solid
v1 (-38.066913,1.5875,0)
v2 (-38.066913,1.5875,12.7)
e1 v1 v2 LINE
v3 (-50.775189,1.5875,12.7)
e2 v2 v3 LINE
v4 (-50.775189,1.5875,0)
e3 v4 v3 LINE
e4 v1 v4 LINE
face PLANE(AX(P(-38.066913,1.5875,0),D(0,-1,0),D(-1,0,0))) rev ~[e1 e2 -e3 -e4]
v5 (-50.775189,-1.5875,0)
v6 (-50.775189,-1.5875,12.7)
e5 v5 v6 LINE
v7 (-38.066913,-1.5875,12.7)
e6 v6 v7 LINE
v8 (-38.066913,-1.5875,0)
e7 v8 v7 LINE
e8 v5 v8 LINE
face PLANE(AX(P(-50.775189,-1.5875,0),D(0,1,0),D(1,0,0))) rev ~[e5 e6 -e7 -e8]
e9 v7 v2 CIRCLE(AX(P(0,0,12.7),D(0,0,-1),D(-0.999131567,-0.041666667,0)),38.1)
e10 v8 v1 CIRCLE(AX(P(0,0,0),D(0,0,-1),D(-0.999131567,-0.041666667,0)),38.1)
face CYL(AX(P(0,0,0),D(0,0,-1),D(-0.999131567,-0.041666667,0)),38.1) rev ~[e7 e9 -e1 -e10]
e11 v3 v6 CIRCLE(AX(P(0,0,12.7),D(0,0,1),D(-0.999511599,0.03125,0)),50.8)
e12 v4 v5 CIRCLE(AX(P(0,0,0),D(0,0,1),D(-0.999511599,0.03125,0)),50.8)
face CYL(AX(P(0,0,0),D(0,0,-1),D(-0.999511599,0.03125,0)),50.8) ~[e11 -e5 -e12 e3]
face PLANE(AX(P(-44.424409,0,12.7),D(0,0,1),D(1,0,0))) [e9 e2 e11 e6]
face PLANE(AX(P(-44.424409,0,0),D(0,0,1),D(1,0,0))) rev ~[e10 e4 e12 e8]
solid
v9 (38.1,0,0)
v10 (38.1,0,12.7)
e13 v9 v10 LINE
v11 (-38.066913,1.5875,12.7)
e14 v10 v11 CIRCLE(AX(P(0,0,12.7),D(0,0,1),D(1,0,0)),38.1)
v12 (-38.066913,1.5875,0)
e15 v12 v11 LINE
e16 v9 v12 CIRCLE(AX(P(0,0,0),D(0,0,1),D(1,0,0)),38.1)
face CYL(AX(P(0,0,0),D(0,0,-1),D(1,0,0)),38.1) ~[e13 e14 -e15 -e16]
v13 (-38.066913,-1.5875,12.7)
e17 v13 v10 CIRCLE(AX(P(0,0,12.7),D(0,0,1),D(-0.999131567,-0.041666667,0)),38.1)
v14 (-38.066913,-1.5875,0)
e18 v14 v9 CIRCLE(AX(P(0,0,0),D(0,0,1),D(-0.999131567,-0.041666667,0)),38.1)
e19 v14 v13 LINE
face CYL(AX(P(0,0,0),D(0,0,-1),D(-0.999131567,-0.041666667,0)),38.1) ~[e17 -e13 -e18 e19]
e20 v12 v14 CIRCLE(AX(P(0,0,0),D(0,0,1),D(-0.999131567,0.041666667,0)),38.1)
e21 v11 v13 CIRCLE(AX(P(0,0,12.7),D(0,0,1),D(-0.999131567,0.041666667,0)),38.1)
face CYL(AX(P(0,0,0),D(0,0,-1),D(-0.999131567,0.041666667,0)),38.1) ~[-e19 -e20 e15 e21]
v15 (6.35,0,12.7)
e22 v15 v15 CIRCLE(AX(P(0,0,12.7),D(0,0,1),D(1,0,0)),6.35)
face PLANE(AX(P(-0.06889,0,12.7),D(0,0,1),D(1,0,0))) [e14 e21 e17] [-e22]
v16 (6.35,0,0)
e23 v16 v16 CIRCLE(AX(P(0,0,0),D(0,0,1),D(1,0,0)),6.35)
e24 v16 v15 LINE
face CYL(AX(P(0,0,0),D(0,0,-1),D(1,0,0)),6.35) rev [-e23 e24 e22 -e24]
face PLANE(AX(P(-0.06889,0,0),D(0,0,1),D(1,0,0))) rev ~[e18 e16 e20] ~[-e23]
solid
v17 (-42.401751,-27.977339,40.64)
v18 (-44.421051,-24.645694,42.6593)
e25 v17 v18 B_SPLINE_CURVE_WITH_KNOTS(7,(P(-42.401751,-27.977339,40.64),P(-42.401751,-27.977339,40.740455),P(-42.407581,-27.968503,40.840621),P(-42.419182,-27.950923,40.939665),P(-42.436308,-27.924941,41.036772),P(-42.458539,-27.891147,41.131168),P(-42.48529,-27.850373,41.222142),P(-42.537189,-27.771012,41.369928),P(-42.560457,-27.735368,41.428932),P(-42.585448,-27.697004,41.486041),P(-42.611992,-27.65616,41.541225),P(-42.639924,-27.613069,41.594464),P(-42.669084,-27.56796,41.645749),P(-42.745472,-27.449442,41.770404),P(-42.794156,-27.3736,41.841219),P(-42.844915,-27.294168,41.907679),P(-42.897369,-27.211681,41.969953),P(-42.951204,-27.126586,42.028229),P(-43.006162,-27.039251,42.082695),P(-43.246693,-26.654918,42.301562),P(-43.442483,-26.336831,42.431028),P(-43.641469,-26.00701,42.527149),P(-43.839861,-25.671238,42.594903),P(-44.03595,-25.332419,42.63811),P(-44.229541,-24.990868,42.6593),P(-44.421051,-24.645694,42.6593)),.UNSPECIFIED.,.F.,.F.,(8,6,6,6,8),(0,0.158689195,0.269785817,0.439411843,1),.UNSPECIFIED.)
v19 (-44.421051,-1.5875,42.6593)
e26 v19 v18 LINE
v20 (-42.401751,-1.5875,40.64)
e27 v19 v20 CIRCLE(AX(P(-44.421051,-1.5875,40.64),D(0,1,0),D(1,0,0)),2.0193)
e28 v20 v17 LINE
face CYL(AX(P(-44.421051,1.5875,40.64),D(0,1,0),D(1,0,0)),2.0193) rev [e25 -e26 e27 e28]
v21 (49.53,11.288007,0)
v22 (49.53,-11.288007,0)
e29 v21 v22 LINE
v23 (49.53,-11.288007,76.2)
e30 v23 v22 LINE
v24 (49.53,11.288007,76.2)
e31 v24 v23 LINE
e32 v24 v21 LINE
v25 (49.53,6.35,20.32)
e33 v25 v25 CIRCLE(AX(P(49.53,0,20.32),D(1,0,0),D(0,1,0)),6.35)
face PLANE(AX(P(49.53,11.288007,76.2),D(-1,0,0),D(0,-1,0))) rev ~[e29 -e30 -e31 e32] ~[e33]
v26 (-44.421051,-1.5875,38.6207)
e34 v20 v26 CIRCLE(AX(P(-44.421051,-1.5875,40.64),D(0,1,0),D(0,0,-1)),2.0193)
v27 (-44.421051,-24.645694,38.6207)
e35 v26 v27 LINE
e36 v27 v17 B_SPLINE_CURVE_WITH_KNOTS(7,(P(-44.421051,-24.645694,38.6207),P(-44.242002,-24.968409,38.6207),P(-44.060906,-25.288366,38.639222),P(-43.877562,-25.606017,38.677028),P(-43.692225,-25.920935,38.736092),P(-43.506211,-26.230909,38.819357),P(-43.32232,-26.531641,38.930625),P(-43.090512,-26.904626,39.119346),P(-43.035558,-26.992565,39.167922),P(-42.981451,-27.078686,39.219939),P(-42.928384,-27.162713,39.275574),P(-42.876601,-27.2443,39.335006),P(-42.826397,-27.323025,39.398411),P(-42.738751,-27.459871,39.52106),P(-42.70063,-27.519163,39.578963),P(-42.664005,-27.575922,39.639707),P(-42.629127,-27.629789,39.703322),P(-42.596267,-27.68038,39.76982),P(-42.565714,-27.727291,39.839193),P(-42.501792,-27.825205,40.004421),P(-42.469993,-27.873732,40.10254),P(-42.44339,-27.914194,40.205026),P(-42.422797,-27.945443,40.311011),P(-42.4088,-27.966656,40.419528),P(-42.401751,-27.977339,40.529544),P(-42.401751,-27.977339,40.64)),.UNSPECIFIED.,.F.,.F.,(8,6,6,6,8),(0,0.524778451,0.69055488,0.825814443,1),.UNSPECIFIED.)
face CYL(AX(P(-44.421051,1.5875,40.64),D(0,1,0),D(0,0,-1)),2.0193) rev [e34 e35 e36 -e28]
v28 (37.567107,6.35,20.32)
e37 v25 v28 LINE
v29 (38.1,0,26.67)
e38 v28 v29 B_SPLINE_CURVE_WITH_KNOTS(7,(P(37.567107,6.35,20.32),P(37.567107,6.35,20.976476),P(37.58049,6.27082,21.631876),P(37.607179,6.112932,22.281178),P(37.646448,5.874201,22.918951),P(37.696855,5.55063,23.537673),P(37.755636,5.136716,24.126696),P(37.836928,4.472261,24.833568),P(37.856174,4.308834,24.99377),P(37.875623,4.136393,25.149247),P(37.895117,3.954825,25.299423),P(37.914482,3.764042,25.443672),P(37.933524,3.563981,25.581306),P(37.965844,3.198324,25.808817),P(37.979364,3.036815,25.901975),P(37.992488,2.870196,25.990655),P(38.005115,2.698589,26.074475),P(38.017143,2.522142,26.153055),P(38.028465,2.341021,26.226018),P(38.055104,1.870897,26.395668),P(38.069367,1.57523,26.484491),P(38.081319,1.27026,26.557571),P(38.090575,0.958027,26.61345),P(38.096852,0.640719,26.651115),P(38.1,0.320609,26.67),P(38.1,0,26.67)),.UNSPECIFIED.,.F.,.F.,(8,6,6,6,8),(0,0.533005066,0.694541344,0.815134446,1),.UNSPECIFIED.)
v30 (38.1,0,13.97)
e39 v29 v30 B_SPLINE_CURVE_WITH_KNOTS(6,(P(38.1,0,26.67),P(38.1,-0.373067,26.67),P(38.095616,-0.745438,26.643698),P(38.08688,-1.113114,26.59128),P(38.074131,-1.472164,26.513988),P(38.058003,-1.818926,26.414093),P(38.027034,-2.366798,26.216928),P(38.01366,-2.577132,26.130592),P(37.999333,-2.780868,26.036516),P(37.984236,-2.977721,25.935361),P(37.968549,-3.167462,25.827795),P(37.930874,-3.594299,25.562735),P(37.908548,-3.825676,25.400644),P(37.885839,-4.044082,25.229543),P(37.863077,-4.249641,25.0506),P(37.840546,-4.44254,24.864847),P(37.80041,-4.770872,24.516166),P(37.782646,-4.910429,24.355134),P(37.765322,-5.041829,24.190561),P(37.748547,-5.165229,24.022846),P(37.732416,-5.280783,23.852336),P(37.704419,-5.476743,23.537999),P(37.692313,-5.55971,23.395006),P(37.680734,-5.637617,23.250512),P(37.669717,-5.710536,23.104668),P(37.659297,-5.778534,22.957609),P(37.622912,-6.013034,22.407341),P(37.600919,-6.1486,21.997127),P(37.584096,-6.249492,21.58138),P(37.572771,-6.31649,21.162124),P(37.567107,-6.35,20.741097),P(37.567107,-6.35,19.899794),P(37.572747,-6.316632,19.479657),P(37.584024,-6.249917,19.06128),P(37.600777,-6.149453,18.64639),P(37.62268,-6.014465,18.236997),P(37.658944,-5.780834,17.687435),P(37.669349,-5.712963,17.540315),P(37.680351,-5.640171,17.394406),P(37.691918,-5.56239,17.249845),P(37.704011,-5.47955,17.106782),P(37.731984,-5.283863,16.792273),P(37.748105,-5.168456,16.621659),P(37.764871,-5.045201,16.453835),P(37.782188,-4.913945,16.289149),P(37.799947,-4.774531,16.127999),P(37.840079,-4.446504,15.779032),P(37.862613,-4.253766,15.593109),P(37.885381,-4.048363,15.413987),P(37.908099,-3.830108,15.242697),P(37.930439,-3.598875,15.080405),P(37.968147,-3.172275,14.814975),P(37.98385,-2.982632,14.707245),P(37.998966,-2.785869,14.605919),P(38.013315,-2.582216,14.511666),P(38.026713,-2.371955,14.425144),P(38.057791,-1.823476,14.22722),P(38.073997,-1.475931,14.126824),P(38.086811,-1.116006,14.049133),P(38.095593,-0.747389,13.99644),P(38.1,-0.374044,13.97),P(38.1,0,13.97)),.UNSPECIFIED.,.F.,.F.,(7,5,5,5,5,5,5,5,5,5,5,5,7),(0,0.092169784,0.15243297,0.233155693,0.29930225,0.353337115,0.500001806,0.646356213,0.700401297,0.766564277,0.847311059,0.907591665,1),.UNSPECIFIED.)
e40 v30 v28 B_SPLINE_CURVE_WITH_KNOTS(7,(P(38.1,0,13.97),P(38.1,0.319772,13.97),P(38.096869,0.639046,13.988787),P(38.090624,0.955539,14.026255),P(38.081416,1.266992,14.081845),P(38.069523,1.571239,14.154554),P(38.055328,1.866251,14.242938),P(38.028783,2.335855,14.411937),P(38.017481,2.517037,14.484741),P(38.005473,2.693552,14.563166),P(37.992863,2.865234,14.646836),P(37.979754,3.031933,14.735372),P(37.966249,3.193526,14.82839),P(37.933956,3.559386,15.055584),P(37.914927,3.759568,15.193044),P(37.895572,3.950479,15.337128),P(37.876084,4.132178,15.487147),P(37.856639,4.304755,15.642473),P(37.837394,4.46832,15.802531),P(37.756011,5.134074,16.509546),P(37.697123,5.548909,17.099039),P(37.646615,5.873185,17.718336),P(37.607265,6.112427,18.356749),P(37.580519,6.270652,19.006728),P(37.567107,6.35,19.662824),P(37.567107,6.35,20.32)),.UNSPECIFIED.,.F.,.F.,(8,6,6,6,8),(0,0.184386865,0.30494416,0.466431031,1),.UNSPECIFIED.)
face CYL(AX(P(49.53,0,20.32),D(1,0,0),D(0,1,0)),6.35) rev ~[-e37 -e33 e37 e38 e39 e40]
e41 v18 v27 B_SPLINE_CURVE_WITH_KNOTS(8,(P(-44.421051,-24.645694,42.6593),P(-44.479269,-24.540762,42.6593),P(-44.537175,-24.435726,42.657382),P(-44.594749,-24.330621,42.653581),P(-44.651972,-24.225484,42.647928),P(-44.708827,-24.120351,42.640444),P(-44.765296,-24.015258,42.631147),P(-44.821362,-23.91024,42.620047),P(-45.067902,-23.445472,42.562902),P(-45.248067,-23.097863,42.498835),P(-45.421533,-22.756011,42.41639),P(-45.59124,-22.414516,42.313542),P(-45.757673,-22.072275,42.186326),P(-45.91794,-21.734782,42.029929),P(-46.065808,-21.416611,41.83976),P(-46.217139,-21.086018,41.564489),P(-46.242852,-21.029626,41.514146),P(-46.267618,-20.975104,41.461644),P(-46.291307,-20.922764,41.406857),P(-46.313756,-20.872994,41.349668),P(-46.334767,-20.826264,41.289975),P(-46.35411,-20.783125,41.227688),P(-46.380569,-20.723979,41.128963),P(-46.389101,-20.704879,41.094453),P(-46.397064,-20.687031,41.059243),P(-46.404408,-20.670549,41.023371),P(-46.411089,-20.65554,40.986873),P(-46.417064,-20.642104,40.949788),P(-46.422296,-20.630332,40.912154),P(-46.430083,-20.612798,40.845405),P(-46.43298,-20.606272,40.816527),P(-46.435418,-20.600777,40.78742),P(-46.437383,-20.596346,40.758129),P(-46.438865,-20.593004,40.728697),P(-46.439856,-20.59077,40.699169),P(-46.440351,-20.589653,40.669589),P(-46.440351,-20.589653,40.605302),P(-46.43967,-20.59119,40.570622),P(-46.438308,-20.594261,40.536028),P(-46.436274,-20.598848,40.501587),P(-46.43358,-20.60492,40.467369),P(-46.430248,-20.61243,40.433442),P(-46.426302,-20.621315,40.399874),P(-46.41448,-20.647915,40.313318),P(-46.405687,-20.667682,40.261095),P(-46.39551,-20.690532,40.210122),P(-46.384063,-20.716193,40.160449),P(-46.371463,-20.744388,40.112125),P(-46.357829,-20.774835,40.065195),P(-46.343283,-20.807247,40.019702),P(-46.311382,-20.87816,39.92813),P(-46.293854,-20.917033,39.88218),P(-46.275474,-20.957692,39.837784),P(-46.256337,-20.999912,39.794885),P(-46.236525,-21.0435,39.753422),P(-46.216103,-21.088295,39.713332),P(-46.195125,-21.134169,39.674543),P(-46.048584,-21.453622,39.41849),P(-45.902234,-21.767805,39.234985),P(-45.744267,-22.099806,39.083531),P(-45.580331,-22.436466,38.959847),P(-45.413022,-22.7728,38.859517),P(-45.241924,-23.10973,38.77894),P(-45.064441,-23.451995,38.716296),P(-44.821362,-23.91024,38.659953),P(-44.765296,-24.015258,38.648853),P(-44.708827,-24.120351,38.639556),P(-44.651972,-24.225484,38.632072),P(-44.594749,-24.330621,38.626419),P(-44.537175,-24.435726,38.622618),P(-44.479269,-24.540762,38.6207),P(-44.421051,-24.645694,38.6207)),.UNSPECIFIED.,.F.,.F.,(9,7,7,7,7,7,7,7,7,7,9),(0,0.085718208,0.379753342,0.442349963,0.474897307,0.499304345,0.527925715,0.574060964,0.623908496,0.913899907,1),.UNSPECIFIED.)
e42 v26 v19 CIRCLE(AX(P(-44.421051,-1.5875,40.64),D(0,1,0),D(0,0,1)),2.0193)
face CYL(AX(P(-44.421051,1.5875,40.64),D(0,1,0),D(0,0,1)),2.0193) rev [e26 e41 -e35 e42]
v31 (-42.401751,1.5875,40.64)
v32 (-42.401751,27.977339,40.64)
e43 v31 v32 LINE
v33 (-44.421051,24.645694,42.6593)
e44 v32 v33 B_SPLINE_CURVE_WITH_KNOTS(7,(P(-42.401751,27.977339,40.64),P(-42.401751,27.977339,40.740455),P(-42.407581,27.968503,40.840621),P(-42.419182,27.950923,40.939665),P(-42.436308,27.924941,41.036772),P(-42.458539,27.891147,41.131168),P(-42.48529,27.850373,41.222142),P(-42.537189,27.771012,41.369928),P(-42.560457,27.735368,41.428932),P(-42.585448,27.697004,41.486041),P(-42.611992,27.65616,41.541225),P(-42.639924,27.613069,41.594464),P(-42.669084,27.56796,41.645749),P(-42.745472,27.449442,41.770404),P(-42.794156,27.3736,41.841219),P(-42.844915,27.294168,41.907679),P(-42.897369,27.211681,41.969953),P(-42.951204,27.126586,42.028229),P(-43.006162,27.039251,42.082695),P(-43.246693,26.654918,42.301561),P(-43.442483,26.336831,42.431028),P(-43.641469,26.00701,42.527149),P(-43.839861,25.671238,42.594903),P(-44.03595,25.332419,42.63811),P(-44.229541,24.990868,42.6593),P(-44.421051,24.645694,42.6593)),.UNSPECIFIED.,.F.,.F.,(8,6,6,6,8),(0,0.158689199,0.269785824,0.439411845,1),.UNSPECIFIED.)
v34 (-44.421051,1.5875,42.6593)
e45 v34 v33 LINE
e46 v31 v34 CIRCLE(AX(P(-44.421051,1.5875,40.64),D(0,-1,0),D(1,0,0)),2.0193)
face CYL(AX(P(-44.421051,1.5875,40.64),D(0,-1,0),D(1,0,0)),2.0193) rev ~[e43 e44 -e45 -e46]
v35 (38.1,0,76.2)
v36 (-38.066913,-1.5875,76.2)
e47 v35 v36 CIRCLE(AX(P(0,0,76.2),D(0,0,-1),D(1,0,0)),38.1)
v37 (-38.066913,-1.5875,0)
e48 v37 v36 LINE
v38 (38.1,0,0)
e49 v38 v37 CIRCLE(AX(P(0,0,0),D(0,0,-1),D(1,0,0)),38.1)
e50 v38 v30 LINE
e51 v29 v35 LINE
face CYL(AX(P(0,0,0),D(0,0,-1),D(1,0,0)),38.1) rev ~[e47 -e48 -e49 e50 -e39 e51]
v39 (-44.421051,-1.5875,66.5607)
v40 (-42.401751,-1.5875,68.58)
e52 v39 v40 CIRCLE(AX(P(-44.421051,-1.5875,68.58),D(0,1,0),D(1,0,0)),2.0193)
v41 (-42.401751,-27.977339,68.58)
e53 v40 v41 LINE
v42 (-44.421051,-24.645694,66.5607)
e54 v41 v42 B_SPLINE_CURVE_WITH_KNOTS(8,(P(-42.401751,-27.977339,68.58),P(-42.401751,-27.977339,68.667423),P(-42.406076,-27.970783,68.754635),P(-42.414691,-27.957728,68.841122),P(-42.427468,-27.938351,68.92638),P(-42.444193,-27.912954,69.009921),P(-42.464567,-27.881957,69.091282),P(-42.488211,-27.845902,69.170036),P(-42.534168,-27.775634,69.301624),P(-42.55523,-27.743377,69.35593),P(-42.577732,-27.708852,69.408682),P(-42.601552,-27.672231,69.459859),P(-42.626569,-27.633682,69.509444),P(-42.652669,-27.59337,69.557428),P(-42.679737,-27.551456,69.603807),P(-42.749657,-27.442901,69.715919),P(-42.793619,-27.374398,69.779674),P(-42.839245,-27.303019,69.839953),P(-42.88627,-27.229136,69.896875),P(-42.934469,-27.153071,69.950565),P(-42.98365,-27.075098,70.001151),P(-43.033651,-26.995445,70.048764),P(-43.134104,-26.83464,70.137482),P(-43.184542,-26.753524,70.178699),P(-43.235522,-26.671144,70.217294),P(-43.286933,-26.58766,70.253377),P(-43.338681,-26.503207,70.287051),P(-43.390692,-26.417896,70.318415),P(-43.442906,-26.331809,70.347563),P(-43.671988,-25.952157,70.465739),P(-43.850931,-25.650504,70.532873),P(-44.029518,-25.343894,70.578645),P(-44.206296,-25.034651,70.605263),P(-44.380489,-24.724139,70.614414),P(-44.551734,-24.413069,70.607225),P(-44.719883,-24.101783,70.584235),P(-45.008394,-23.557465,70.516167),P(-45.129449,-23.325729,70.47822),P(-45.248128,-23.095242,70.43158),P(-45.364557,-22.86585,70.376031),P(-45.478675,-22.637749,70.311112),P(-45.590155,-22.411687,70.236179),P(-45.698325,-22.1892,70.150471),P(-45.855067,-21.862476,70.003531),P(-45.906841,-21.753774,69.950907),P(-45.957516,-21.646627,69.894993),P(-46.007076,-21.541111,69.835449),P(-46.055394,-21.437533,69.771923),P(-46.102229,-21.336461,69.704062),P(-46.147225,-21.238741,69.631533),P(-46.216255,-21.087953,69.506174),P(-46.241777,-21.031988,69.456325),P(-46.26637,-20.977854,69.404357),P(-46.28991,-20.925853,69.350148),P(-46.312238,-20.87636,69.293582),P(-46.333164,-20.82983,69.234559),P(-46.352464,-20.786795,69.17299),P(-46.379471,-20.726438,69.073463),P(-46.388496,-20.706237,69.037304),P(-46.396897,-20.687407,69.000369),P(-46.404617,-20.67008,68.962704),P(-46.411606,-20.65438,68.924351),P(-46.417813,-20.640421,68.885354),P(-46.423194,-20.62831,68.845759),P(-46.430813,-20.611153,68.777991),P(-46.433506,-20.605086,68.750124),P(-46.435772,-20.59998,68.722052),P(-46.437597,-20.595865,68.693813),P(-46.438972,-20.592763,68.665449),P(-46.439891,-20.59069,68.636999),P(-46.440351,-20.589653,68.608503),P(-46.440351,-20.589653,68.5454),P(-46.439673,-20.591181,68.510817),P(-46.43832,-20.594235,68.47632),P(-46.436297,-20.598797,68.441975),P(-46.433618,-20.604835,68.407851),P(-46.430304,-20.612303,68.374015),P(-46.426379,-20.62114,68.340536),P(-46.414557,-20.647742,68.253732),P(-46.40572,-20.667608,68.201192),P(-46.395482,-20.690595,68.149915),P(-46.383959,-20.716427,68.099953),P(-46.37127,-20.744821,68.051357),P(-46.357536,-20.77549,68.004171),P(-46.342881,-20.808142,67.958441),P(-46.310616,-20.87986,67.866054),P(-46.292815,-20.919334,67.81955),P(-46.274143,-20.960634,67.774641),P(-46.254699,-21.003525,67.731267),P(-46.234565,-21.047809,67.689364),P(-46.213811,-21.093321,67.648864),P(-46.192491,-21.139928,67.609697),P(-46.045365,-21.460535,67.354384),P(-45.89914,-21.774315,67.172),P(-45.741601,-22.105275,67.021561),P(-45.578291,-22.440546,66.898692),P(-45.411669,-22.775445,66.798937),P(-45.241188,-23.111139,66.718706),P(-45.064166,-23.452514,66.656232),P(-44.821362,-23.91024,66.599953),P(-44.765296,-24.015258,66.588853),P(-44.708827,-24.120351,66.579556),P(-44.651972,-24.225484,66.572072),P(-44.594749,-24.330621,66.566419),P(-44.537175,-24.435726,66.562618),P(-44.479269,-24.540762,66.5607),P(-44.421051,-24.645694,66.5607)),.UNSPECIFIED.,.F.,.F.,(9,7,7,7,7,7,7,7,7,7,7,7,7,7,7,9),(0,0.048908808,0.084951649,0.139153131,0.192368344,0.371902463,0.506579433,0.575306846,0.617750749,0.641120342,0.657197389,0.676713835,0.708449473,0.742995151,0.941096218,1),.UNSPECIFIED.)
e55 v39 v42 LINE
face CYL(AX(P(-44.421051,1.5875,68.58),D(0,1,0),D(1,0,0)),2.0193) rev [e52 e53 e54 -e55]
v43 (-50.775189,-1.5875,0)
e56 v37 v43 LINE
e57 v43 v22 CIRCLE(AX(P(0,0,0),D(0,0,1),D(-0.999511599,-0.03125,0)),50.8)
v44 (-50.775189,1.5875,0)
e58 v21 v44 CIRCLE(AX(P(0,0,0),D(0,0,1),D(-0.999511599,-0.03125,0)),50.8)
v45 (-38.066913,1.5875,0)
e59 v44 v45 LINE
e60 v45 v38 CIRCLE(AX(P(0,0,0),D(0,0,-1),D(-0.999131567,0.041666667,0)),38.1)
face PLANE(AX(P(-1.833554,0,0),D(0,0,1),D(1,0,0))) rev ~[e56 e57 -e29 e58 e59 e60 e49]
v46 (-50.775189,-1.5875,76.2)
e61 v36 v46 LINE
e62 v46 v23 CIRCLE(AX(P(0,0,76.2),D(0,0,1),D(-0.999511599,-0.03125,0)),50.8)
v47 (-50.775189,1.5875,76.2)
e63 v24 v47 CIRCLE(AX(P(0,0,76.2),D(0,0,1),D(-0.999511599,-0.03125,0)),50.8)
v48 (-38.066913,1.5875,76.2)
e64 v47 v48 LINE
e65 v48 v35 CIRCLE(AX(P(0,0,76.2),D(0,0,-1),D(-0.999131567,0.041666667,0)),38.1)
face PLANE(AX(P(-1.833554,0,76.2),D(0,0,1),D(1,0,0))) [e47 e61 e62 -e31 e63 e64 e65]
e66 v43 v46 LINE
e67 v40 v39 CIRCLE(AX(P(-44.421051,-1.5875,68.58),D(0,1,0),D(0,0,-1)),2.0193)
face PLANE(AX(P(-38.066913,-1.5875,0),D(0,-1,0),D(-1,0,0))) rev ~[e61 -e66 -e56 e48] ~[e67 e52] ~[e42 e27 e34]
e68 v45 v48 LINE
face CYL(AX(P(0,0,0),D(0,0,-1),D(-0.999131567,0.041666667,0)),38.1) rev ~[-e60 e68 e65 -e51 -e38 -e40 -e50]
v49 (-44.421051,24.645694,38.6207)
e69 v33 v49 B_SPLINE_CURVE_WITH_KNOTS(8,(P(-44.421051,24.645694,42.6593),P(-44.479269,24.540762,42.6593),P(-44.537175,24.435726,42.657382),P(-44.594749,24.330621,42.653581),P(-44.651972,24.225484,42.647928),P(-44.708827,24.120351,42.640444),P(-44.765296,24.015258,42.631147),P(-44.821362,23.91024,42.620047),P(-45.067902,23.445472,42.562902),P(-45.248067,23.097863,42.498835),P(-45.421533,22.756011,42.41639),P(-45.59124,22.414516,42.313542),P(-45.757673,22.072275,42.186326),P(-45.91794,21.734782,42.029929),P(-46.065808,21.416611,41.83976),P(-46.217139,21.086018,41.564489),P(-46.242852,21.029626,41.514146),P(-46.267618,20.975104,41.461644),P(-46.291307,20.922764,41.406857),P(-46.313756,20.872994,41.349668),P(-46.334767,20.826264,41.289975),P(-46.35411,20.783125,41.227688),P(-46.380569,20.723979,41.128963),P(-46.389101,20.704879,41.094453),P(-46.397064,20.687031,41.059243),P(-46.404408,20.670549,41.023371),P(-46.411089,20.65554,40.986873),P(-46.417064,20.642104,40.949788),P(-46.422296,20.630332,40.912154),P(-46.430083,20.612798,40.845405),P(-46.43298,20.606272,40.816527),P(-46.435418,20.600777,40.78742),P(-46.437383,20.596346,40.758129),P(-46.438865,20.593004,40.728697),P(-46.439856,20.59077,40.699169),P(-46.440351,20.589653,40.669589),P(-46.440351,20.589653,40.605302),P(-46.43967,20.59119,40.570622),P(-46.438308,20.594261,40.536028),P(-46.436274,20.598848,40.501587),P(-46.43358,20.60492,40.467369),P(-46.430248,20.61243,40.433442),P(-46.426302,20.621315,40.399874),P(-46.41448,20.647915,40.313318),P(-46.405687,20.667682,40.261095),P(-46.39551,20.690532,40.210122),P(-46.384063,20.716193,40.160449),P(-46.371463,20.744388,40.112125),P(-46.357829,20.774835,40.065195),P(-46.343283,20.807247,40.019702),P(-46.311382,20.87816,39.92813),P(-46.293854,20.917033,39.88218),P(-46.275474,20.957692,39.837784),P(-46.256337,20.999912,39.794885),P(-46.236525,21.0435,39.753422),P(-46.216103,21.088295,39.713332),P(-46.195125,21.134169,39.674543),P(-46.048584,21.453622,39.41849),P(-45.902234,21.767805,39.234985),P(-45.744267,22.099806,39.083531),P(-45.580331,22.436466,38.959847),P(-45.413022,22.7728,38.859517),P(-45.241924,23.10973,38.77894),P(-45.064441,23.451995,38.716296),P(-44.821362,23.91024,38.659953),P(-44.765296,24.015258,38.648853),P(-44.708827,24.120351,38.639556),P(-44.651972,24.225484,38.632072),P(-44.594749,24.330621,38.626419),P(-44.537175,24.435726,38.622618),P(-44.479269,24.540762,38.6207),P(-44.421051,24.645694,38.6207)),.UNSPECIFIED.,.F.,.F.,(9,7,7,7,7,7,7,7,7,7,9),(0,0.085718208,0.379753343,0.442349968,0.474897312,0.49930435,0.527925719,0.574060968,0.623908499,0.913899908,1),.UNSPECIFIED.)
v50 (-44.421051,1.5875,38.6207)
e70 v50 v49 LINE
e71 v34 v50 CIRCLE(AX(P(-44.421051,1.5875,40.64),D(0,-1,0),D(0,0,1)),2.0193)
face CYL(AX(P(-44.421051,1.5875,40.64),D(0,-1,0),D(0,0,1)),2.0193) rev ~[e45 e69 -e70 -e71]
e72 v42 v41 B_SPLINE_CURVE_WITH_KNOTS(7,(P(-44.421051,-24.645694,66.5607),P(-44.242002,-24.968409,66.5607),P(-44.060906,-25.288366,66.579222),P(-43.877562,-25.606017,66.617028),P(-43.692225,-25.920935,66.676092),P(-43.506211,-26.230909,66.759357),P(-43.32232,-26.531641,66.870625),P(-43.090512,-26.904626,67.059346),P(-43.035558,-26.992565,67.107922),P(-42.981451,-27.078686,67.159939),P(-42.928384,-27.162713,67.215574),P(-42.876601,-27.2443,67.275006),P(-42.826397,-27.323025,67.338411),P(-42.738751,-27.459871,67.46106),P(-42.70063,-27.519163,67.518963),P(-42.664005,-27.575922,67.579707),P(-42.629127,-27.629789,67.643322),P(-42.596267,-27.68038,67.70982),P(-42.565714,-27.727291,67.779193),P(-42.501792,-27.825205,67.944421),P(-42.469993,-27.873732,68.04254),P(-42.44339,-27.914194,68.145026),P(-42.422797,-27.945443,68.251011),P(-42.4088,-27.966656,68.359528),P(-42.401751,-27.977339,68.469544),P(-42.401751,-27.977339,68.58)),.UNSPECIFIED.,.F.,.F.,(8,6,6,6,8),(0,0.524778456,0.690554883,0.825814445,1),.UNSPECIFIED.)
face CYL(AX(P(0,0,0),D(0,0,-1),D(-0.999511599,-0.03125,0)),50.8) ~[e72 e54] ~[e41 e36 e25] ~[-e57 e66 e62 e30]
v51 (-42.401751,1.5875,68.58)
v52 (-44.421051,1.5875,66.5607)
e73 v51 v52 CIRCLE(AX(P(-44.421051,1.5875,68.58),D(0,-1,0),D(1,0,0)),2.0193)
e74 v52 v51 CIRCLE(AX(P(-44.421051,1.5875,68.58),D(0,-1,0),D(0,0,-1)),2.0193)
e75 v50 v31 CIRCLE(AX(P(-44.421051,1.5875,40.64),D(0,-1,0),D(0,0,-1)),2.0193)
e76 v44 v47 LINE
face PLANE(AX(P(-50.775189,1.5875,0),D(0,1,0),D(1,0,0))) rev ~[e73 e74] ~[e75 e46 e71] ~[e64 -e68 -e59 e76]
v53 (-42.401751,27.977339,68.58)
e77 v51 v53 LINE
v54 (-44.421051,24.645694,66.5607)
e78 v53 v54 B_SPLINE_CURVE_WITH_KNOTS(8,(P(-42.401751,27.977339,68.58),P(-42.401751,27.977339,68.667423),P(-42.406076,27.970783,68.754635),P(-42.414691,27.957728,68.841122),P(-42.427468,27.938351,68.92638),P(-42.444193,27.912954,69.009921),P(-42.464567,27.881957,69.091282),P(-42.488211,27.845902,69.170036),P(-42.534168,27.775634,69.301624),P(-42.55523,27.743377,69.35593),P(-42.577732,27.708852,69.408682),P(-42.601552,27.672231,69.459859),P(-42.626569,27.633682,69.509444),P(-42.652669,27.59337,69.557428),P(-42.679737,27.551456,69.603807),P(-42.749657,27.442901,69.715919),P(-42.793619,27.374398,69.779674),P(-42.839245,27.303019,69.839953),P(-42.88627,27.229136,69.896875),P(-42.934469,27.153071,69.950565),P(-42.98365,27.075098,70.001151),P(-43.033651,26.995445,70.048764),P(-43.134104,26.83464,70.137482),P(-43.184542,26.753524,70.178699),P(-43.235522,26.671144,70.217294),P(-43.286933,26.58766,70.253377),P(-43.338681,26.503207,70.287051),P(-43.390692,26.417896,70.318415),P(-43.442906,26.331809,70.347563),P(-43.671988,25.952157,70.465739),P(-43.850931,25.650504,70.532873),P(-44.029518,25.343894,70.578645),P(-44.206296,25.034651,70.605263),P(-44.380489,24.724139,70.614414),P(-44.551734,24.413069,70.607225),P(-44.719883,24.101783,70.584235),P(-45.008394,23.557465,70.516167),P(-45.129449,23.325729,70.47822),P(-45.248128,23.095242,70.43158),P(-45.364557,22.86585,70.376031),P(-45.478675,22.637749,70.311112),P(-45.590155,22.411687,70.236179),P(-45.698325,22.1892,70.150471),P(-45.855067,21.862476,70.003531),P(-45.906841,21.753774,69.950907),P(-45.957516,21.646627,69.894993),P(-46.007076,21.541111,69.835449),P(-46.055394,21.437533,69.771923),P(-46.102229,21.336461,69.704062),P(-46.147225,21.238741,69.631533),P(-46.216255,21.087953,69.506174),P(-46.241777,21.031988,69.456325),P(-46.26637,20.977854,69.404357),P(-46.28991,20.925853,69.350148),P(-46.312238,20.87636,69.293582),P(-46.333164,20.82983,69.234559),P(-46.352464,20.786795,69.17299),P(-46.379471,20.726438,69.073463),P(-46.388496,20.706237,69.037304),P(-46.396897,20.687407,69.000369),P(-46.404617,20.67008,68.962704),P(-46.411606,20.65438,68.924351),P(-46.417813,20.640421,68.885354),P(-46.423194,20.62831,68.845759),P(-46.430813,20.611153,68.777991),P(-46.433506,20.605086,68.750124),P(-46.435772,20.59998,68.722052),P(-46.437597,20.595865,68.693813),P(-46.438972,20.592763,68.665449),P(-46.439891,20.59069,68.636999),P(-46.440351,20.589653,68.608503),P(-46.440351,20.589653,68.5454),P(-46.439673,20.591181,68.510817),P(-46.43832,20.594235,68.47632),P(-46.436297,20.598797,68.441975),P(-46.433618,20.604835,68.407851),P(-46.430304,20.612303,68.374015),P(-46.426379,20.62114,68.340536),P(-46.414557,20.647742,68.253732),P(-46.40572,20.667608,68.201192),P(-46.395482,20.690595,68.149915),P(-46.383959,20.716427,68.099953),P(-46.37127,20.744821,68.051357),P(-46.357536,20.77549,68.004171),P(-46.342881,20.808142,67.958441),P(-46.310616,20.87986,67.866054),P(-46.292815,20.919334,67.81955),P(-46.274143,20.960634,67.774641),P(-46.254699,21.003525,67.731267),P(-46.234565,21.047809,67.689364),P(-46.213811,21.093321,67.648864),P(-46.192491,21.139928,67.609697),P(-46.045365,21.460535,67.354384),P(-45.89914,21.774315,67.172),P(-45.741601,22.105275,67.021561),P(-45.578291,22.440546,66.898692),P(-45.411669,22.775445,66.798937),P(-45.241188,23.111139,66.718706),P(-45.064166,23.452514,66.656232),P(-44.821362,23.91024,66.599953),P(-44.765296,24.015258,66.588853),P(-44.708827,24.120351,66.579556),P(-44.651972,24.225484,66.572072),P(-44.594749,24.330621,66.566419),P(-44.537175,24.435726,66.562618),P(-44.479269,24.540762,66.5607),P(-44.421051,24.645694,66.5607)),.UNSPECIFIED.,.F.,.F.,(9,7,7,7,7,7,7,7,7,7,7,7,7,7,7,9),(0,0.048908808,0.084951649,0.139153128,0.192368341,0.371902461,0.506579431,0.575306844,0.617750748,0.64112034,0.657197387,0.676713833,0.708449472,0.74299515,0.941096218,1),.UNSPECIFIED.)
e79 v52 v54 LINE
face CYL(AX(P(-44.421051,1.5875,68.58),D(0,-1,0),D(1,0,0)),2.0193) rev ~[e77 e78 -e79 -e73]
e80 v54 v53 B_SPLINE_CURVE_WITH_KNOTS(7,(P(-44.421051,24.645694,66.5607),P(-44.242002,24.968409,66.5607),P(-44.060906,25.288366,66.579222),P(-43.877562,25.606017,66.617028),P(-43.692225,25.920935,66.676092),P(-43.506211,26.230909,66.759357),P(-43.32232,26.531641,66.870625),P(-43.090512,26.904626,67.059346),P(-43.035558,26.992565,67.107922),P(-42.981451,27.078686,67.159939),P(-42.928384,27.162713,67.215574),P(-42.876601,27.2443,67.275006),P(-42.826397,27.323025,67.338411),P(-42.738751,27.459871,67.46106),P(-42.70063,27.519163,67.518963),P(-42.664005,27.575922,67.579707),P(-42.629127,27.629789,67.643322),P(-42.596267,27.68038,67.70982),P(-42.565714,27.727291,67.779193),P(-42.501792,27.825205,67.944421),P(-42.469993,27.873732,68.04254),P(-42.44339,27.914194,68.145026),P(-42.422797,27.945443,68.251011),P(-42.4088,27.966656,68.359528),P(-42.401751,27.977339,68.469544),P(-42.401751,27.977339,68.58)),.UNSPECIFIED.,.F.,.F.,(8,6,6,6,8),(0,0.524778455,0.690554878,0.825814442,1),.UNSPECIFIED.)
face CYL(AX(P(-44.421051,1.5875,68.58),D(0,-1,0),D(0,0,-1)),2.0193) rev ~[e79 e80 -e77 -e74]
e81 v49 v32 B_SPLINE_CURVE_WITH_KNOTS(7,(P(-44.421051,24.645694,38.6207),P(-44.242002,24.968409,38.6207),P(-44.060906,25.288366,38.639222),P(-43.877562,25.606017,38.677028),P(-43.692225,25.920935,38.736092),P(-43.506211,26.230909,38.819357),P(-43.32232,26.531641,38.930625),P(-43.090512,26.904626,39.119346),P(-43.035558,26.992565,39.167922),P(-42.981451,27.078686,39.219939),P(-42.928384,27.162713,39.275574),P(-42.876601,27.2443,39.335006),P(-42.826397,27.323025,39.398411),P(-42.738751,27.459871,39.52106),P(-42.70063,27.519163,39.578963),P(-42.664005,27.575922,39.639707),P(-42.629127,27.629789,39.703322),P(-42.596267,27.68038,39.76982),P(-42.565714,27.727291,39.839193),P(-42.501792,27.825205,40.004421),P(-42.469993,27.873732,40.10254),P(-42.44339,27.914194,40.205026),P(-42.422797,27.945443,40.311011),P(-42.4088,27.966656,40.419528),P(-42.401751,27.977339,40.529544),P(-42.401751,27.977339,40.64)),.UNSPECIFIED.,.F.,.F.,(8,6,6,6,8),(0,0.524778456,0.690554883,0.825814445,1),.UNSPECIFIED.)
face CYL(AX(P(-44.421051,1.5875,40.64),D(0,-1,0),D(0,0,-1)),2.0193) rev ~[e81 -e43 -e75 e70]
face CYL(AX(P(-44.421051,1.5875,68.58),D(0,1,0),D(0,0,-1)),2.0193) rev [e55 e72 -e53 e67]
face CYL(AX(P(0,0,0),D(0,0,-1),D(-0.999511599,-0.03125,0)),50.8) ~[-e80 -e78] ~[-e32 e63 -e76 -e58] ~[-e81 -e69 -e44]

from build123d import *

# Parameters (mm, degrees)
F1_R          = 6.35
F2_DEPTH      = 12.7
F3_DEPTH      = 76.2
F5_DEPTH      = 31.75
F5_DEPTH_BACK = 31.75
F7_DEPTH      = 76.2
F8_R          = 6.35
F9_DEPTH      = 12.7


with BuildPart() as f2:
    # F1 (on face) → F2 (new body)
    with BuildSketch(Plane.XY):
        with BuildLine():
            ThreePointArc((-38.0669127163, 1.5875), (-38.1, 0), (-38.0669127163, -1.5875))
            ThreePointArc((-38.0669127163, -1.5875), (0.7939223857, -38.0917272809), (38.1, 0))
            ThreePointArc((38.1, 0), (0.7939223857, 38.0917272809), (-38.0669127163, 1.5875))
        make_face()
        Circle(F1_R, mode=Mode.SUBTRACT)
    extrude(amount=F2_DEPTH)


with BuildPart() as f2b:
    # F0 (on Top) → F2, piece 2 (new body)
    with BuildSketch(Plane.XY):
        with BuildLine():
            ThreePointArc((-38.0669127163, -1.5875), (-38.1, 0), (-38.0669127163, 1.5875))
            Line((-38.0669127163, 1.5875), (-50.7751892537, 1.5875))
            ThreePointArc((-50.7751892537, 1.5875), (-50.8, 0), (-50.7751892537, -1.5875))
            Line((-50.7751892537, -1.5875), (-38.0669127163, -1.5875))
        make_face()
    extrude(amount=F2_DEPTH)


with BuildPart() as f3:
    # F0 (on Top) → F3 (new body)
    with BuildSketch(Plane.XY):
        with BuildLine():
            ThreePointArc((-38.0669127163, 1.5875), (0.7939223857, 38.0917272809), (38.1, 0))
            ThreePointArc((38.1, 0), (0.7939223857, -38.0917272809), (-38.0669127163, -1.5875))
            Line((-38.0669127163, -1.5875), (-50.7751892537, -1.5875))
            ThreePointArc((-50.7751892537, -1.5875), (0.7938469347, -50.7937969347), (50.8, 0))
            ThreePointArc((50.8, 0), (0.7938469347, 50.7937969347), (-50.7751892537, 1.5875))
            Line((-50.7751892537, 1.5875), (-38.0669127163, 1.5875))
        make_face()
    extrude(amount=F3_DEPTH)

    # F4 (on face) → F5 (cut, two sides)
    with BuildSketch(Plane.XZ.offset(-1.5875)) as f5_sk:
        with BuildLine():
            ThreePointArc((-42.401750985, 68.58), (-42.9931902618, 70.0078607233), (-44.421050985, 70.5993))
            Line((-44.421050985, 70.5993), (-44.421050985, 68.58))
            Line((-44.421050985, 68.58), (-42.401750985, 68.58))
        make_face()
        with BuildLine():
            Line((-44.421050985, 68.58), (-44.421050985, 70.5993))
            ThreePointArc((-44.421050985, 70.5993), (-45.8489117083, 70.0078607232), (-46.440350985, 68.58))
            Line((-46.440350985, 68.58), (-44.421050985, 68.58))
        make_face()
        with BuildLine():
            Line((-44.421050985, 66.5607), (-44.421050985, 68.58))
            Line((-44.421050985, 68.58), (-46.440350985, 68.58))
            ThreePointArc((-46.440350985, 68.58), (-45.8489117083, 67.1521392768), (-44.421050985, 66.5607))
        make_face()
        with BuildLine():
            Line((-42.401750985, 68.58), (-44.421050985, 68.58))
            Line((-44.421050985, 68.58), (-44.421050985, 66.5607))
            ThreePointArc((-44.421050985, 66.5607), (-42.9931902618, 67.1521392768), (-42.401750985, 68.58))
        make_face()
        with BuildLine():
            Line((-44.421050985, 40.64), (-44.421050985, 42.6593))
            ThreePointArc((-44.421050985, 42.6593), (-45.8489117083, 42.0678607232), (-46.440350985, 40.64))
            Line((-46.440350985, 40.64), (-44.421050985, 40.64))
        make_face()
        with BuildLine():
            ThreePointArc((-42.401750985, 40.64), (-42.9931902618, 42.0678607232), (-44.421050985, 42.6593))
            Line((-44.421050985, 42.6593), (-44.421050985, 40.64))
            Line((-44.421050985, 40.64), (-42.401750985, 40.64))
        make_face()
        with BuildLine():
            ThreePointArc((-44.421050985, 38.6207), (-42.9931902618, 39.2121392768), (-42.401750985, 40.64))
            Line((-42.401750985, 40.64), (-44.421050985, 40.64))
            Line((-44.421050985, 40.64), (-44.421050985, 38.6207))
        make_face()
        with BuildLine():
            Line((-44.421050985, 40.64), (-46.440350985, 40.64))
            ThreePointArc((-46.440350985, 40.64), (-45.8489117083, 39.2121392768), (-44.421050985, 38.6207))
            Line((-44.421050985, 38.6207), (-44.421050985, 40.64))
        make_face()
    extrude(amount=-F5_DEPTH, mode=Mode.SUBTRACT)
    extrude(f5_sk.sketch, amount=F5_DEPTH_BACK, mode=Mode.SUBTRACT)

    # F6 (on face) → F7 (cut)
    with BuildSketch(Plane.XY.offset(76.2)):
        with BuildLine():
            ThreePointArc((49.53, -11.28800691), (50.4815015625, -5.6796126628), (50.8, 0))
            Line((50.8, 0), (49.53, 0))
            Line((49.53, 0), (49.53, -11.28800691))
        make_face()
        with BuildLine():
            Line((49.53, 0), (50.8, 0))
            ThreePointArc((50.8, 0), (50.4815015625, 5.6796126628), (49.53, 11.28800691))
            Line((49.53, 11.28800691), (49.53, 0))
        make_face()
    extrude(amount=-F7_DEPTH, mode=Mode.SUBTRACT)

    # F8 (on face) → F9 (cut)
    with BuildSketch(Plane.YZ.offset(49.53)):
        with Locations((0, 20.32)):
            Circle(F8_R)
    extrude(amount=-F9_DEPTH, mode=Mode.SUBTRACT)


solid = Compound([f2.part, f2b.part, f3.part])
